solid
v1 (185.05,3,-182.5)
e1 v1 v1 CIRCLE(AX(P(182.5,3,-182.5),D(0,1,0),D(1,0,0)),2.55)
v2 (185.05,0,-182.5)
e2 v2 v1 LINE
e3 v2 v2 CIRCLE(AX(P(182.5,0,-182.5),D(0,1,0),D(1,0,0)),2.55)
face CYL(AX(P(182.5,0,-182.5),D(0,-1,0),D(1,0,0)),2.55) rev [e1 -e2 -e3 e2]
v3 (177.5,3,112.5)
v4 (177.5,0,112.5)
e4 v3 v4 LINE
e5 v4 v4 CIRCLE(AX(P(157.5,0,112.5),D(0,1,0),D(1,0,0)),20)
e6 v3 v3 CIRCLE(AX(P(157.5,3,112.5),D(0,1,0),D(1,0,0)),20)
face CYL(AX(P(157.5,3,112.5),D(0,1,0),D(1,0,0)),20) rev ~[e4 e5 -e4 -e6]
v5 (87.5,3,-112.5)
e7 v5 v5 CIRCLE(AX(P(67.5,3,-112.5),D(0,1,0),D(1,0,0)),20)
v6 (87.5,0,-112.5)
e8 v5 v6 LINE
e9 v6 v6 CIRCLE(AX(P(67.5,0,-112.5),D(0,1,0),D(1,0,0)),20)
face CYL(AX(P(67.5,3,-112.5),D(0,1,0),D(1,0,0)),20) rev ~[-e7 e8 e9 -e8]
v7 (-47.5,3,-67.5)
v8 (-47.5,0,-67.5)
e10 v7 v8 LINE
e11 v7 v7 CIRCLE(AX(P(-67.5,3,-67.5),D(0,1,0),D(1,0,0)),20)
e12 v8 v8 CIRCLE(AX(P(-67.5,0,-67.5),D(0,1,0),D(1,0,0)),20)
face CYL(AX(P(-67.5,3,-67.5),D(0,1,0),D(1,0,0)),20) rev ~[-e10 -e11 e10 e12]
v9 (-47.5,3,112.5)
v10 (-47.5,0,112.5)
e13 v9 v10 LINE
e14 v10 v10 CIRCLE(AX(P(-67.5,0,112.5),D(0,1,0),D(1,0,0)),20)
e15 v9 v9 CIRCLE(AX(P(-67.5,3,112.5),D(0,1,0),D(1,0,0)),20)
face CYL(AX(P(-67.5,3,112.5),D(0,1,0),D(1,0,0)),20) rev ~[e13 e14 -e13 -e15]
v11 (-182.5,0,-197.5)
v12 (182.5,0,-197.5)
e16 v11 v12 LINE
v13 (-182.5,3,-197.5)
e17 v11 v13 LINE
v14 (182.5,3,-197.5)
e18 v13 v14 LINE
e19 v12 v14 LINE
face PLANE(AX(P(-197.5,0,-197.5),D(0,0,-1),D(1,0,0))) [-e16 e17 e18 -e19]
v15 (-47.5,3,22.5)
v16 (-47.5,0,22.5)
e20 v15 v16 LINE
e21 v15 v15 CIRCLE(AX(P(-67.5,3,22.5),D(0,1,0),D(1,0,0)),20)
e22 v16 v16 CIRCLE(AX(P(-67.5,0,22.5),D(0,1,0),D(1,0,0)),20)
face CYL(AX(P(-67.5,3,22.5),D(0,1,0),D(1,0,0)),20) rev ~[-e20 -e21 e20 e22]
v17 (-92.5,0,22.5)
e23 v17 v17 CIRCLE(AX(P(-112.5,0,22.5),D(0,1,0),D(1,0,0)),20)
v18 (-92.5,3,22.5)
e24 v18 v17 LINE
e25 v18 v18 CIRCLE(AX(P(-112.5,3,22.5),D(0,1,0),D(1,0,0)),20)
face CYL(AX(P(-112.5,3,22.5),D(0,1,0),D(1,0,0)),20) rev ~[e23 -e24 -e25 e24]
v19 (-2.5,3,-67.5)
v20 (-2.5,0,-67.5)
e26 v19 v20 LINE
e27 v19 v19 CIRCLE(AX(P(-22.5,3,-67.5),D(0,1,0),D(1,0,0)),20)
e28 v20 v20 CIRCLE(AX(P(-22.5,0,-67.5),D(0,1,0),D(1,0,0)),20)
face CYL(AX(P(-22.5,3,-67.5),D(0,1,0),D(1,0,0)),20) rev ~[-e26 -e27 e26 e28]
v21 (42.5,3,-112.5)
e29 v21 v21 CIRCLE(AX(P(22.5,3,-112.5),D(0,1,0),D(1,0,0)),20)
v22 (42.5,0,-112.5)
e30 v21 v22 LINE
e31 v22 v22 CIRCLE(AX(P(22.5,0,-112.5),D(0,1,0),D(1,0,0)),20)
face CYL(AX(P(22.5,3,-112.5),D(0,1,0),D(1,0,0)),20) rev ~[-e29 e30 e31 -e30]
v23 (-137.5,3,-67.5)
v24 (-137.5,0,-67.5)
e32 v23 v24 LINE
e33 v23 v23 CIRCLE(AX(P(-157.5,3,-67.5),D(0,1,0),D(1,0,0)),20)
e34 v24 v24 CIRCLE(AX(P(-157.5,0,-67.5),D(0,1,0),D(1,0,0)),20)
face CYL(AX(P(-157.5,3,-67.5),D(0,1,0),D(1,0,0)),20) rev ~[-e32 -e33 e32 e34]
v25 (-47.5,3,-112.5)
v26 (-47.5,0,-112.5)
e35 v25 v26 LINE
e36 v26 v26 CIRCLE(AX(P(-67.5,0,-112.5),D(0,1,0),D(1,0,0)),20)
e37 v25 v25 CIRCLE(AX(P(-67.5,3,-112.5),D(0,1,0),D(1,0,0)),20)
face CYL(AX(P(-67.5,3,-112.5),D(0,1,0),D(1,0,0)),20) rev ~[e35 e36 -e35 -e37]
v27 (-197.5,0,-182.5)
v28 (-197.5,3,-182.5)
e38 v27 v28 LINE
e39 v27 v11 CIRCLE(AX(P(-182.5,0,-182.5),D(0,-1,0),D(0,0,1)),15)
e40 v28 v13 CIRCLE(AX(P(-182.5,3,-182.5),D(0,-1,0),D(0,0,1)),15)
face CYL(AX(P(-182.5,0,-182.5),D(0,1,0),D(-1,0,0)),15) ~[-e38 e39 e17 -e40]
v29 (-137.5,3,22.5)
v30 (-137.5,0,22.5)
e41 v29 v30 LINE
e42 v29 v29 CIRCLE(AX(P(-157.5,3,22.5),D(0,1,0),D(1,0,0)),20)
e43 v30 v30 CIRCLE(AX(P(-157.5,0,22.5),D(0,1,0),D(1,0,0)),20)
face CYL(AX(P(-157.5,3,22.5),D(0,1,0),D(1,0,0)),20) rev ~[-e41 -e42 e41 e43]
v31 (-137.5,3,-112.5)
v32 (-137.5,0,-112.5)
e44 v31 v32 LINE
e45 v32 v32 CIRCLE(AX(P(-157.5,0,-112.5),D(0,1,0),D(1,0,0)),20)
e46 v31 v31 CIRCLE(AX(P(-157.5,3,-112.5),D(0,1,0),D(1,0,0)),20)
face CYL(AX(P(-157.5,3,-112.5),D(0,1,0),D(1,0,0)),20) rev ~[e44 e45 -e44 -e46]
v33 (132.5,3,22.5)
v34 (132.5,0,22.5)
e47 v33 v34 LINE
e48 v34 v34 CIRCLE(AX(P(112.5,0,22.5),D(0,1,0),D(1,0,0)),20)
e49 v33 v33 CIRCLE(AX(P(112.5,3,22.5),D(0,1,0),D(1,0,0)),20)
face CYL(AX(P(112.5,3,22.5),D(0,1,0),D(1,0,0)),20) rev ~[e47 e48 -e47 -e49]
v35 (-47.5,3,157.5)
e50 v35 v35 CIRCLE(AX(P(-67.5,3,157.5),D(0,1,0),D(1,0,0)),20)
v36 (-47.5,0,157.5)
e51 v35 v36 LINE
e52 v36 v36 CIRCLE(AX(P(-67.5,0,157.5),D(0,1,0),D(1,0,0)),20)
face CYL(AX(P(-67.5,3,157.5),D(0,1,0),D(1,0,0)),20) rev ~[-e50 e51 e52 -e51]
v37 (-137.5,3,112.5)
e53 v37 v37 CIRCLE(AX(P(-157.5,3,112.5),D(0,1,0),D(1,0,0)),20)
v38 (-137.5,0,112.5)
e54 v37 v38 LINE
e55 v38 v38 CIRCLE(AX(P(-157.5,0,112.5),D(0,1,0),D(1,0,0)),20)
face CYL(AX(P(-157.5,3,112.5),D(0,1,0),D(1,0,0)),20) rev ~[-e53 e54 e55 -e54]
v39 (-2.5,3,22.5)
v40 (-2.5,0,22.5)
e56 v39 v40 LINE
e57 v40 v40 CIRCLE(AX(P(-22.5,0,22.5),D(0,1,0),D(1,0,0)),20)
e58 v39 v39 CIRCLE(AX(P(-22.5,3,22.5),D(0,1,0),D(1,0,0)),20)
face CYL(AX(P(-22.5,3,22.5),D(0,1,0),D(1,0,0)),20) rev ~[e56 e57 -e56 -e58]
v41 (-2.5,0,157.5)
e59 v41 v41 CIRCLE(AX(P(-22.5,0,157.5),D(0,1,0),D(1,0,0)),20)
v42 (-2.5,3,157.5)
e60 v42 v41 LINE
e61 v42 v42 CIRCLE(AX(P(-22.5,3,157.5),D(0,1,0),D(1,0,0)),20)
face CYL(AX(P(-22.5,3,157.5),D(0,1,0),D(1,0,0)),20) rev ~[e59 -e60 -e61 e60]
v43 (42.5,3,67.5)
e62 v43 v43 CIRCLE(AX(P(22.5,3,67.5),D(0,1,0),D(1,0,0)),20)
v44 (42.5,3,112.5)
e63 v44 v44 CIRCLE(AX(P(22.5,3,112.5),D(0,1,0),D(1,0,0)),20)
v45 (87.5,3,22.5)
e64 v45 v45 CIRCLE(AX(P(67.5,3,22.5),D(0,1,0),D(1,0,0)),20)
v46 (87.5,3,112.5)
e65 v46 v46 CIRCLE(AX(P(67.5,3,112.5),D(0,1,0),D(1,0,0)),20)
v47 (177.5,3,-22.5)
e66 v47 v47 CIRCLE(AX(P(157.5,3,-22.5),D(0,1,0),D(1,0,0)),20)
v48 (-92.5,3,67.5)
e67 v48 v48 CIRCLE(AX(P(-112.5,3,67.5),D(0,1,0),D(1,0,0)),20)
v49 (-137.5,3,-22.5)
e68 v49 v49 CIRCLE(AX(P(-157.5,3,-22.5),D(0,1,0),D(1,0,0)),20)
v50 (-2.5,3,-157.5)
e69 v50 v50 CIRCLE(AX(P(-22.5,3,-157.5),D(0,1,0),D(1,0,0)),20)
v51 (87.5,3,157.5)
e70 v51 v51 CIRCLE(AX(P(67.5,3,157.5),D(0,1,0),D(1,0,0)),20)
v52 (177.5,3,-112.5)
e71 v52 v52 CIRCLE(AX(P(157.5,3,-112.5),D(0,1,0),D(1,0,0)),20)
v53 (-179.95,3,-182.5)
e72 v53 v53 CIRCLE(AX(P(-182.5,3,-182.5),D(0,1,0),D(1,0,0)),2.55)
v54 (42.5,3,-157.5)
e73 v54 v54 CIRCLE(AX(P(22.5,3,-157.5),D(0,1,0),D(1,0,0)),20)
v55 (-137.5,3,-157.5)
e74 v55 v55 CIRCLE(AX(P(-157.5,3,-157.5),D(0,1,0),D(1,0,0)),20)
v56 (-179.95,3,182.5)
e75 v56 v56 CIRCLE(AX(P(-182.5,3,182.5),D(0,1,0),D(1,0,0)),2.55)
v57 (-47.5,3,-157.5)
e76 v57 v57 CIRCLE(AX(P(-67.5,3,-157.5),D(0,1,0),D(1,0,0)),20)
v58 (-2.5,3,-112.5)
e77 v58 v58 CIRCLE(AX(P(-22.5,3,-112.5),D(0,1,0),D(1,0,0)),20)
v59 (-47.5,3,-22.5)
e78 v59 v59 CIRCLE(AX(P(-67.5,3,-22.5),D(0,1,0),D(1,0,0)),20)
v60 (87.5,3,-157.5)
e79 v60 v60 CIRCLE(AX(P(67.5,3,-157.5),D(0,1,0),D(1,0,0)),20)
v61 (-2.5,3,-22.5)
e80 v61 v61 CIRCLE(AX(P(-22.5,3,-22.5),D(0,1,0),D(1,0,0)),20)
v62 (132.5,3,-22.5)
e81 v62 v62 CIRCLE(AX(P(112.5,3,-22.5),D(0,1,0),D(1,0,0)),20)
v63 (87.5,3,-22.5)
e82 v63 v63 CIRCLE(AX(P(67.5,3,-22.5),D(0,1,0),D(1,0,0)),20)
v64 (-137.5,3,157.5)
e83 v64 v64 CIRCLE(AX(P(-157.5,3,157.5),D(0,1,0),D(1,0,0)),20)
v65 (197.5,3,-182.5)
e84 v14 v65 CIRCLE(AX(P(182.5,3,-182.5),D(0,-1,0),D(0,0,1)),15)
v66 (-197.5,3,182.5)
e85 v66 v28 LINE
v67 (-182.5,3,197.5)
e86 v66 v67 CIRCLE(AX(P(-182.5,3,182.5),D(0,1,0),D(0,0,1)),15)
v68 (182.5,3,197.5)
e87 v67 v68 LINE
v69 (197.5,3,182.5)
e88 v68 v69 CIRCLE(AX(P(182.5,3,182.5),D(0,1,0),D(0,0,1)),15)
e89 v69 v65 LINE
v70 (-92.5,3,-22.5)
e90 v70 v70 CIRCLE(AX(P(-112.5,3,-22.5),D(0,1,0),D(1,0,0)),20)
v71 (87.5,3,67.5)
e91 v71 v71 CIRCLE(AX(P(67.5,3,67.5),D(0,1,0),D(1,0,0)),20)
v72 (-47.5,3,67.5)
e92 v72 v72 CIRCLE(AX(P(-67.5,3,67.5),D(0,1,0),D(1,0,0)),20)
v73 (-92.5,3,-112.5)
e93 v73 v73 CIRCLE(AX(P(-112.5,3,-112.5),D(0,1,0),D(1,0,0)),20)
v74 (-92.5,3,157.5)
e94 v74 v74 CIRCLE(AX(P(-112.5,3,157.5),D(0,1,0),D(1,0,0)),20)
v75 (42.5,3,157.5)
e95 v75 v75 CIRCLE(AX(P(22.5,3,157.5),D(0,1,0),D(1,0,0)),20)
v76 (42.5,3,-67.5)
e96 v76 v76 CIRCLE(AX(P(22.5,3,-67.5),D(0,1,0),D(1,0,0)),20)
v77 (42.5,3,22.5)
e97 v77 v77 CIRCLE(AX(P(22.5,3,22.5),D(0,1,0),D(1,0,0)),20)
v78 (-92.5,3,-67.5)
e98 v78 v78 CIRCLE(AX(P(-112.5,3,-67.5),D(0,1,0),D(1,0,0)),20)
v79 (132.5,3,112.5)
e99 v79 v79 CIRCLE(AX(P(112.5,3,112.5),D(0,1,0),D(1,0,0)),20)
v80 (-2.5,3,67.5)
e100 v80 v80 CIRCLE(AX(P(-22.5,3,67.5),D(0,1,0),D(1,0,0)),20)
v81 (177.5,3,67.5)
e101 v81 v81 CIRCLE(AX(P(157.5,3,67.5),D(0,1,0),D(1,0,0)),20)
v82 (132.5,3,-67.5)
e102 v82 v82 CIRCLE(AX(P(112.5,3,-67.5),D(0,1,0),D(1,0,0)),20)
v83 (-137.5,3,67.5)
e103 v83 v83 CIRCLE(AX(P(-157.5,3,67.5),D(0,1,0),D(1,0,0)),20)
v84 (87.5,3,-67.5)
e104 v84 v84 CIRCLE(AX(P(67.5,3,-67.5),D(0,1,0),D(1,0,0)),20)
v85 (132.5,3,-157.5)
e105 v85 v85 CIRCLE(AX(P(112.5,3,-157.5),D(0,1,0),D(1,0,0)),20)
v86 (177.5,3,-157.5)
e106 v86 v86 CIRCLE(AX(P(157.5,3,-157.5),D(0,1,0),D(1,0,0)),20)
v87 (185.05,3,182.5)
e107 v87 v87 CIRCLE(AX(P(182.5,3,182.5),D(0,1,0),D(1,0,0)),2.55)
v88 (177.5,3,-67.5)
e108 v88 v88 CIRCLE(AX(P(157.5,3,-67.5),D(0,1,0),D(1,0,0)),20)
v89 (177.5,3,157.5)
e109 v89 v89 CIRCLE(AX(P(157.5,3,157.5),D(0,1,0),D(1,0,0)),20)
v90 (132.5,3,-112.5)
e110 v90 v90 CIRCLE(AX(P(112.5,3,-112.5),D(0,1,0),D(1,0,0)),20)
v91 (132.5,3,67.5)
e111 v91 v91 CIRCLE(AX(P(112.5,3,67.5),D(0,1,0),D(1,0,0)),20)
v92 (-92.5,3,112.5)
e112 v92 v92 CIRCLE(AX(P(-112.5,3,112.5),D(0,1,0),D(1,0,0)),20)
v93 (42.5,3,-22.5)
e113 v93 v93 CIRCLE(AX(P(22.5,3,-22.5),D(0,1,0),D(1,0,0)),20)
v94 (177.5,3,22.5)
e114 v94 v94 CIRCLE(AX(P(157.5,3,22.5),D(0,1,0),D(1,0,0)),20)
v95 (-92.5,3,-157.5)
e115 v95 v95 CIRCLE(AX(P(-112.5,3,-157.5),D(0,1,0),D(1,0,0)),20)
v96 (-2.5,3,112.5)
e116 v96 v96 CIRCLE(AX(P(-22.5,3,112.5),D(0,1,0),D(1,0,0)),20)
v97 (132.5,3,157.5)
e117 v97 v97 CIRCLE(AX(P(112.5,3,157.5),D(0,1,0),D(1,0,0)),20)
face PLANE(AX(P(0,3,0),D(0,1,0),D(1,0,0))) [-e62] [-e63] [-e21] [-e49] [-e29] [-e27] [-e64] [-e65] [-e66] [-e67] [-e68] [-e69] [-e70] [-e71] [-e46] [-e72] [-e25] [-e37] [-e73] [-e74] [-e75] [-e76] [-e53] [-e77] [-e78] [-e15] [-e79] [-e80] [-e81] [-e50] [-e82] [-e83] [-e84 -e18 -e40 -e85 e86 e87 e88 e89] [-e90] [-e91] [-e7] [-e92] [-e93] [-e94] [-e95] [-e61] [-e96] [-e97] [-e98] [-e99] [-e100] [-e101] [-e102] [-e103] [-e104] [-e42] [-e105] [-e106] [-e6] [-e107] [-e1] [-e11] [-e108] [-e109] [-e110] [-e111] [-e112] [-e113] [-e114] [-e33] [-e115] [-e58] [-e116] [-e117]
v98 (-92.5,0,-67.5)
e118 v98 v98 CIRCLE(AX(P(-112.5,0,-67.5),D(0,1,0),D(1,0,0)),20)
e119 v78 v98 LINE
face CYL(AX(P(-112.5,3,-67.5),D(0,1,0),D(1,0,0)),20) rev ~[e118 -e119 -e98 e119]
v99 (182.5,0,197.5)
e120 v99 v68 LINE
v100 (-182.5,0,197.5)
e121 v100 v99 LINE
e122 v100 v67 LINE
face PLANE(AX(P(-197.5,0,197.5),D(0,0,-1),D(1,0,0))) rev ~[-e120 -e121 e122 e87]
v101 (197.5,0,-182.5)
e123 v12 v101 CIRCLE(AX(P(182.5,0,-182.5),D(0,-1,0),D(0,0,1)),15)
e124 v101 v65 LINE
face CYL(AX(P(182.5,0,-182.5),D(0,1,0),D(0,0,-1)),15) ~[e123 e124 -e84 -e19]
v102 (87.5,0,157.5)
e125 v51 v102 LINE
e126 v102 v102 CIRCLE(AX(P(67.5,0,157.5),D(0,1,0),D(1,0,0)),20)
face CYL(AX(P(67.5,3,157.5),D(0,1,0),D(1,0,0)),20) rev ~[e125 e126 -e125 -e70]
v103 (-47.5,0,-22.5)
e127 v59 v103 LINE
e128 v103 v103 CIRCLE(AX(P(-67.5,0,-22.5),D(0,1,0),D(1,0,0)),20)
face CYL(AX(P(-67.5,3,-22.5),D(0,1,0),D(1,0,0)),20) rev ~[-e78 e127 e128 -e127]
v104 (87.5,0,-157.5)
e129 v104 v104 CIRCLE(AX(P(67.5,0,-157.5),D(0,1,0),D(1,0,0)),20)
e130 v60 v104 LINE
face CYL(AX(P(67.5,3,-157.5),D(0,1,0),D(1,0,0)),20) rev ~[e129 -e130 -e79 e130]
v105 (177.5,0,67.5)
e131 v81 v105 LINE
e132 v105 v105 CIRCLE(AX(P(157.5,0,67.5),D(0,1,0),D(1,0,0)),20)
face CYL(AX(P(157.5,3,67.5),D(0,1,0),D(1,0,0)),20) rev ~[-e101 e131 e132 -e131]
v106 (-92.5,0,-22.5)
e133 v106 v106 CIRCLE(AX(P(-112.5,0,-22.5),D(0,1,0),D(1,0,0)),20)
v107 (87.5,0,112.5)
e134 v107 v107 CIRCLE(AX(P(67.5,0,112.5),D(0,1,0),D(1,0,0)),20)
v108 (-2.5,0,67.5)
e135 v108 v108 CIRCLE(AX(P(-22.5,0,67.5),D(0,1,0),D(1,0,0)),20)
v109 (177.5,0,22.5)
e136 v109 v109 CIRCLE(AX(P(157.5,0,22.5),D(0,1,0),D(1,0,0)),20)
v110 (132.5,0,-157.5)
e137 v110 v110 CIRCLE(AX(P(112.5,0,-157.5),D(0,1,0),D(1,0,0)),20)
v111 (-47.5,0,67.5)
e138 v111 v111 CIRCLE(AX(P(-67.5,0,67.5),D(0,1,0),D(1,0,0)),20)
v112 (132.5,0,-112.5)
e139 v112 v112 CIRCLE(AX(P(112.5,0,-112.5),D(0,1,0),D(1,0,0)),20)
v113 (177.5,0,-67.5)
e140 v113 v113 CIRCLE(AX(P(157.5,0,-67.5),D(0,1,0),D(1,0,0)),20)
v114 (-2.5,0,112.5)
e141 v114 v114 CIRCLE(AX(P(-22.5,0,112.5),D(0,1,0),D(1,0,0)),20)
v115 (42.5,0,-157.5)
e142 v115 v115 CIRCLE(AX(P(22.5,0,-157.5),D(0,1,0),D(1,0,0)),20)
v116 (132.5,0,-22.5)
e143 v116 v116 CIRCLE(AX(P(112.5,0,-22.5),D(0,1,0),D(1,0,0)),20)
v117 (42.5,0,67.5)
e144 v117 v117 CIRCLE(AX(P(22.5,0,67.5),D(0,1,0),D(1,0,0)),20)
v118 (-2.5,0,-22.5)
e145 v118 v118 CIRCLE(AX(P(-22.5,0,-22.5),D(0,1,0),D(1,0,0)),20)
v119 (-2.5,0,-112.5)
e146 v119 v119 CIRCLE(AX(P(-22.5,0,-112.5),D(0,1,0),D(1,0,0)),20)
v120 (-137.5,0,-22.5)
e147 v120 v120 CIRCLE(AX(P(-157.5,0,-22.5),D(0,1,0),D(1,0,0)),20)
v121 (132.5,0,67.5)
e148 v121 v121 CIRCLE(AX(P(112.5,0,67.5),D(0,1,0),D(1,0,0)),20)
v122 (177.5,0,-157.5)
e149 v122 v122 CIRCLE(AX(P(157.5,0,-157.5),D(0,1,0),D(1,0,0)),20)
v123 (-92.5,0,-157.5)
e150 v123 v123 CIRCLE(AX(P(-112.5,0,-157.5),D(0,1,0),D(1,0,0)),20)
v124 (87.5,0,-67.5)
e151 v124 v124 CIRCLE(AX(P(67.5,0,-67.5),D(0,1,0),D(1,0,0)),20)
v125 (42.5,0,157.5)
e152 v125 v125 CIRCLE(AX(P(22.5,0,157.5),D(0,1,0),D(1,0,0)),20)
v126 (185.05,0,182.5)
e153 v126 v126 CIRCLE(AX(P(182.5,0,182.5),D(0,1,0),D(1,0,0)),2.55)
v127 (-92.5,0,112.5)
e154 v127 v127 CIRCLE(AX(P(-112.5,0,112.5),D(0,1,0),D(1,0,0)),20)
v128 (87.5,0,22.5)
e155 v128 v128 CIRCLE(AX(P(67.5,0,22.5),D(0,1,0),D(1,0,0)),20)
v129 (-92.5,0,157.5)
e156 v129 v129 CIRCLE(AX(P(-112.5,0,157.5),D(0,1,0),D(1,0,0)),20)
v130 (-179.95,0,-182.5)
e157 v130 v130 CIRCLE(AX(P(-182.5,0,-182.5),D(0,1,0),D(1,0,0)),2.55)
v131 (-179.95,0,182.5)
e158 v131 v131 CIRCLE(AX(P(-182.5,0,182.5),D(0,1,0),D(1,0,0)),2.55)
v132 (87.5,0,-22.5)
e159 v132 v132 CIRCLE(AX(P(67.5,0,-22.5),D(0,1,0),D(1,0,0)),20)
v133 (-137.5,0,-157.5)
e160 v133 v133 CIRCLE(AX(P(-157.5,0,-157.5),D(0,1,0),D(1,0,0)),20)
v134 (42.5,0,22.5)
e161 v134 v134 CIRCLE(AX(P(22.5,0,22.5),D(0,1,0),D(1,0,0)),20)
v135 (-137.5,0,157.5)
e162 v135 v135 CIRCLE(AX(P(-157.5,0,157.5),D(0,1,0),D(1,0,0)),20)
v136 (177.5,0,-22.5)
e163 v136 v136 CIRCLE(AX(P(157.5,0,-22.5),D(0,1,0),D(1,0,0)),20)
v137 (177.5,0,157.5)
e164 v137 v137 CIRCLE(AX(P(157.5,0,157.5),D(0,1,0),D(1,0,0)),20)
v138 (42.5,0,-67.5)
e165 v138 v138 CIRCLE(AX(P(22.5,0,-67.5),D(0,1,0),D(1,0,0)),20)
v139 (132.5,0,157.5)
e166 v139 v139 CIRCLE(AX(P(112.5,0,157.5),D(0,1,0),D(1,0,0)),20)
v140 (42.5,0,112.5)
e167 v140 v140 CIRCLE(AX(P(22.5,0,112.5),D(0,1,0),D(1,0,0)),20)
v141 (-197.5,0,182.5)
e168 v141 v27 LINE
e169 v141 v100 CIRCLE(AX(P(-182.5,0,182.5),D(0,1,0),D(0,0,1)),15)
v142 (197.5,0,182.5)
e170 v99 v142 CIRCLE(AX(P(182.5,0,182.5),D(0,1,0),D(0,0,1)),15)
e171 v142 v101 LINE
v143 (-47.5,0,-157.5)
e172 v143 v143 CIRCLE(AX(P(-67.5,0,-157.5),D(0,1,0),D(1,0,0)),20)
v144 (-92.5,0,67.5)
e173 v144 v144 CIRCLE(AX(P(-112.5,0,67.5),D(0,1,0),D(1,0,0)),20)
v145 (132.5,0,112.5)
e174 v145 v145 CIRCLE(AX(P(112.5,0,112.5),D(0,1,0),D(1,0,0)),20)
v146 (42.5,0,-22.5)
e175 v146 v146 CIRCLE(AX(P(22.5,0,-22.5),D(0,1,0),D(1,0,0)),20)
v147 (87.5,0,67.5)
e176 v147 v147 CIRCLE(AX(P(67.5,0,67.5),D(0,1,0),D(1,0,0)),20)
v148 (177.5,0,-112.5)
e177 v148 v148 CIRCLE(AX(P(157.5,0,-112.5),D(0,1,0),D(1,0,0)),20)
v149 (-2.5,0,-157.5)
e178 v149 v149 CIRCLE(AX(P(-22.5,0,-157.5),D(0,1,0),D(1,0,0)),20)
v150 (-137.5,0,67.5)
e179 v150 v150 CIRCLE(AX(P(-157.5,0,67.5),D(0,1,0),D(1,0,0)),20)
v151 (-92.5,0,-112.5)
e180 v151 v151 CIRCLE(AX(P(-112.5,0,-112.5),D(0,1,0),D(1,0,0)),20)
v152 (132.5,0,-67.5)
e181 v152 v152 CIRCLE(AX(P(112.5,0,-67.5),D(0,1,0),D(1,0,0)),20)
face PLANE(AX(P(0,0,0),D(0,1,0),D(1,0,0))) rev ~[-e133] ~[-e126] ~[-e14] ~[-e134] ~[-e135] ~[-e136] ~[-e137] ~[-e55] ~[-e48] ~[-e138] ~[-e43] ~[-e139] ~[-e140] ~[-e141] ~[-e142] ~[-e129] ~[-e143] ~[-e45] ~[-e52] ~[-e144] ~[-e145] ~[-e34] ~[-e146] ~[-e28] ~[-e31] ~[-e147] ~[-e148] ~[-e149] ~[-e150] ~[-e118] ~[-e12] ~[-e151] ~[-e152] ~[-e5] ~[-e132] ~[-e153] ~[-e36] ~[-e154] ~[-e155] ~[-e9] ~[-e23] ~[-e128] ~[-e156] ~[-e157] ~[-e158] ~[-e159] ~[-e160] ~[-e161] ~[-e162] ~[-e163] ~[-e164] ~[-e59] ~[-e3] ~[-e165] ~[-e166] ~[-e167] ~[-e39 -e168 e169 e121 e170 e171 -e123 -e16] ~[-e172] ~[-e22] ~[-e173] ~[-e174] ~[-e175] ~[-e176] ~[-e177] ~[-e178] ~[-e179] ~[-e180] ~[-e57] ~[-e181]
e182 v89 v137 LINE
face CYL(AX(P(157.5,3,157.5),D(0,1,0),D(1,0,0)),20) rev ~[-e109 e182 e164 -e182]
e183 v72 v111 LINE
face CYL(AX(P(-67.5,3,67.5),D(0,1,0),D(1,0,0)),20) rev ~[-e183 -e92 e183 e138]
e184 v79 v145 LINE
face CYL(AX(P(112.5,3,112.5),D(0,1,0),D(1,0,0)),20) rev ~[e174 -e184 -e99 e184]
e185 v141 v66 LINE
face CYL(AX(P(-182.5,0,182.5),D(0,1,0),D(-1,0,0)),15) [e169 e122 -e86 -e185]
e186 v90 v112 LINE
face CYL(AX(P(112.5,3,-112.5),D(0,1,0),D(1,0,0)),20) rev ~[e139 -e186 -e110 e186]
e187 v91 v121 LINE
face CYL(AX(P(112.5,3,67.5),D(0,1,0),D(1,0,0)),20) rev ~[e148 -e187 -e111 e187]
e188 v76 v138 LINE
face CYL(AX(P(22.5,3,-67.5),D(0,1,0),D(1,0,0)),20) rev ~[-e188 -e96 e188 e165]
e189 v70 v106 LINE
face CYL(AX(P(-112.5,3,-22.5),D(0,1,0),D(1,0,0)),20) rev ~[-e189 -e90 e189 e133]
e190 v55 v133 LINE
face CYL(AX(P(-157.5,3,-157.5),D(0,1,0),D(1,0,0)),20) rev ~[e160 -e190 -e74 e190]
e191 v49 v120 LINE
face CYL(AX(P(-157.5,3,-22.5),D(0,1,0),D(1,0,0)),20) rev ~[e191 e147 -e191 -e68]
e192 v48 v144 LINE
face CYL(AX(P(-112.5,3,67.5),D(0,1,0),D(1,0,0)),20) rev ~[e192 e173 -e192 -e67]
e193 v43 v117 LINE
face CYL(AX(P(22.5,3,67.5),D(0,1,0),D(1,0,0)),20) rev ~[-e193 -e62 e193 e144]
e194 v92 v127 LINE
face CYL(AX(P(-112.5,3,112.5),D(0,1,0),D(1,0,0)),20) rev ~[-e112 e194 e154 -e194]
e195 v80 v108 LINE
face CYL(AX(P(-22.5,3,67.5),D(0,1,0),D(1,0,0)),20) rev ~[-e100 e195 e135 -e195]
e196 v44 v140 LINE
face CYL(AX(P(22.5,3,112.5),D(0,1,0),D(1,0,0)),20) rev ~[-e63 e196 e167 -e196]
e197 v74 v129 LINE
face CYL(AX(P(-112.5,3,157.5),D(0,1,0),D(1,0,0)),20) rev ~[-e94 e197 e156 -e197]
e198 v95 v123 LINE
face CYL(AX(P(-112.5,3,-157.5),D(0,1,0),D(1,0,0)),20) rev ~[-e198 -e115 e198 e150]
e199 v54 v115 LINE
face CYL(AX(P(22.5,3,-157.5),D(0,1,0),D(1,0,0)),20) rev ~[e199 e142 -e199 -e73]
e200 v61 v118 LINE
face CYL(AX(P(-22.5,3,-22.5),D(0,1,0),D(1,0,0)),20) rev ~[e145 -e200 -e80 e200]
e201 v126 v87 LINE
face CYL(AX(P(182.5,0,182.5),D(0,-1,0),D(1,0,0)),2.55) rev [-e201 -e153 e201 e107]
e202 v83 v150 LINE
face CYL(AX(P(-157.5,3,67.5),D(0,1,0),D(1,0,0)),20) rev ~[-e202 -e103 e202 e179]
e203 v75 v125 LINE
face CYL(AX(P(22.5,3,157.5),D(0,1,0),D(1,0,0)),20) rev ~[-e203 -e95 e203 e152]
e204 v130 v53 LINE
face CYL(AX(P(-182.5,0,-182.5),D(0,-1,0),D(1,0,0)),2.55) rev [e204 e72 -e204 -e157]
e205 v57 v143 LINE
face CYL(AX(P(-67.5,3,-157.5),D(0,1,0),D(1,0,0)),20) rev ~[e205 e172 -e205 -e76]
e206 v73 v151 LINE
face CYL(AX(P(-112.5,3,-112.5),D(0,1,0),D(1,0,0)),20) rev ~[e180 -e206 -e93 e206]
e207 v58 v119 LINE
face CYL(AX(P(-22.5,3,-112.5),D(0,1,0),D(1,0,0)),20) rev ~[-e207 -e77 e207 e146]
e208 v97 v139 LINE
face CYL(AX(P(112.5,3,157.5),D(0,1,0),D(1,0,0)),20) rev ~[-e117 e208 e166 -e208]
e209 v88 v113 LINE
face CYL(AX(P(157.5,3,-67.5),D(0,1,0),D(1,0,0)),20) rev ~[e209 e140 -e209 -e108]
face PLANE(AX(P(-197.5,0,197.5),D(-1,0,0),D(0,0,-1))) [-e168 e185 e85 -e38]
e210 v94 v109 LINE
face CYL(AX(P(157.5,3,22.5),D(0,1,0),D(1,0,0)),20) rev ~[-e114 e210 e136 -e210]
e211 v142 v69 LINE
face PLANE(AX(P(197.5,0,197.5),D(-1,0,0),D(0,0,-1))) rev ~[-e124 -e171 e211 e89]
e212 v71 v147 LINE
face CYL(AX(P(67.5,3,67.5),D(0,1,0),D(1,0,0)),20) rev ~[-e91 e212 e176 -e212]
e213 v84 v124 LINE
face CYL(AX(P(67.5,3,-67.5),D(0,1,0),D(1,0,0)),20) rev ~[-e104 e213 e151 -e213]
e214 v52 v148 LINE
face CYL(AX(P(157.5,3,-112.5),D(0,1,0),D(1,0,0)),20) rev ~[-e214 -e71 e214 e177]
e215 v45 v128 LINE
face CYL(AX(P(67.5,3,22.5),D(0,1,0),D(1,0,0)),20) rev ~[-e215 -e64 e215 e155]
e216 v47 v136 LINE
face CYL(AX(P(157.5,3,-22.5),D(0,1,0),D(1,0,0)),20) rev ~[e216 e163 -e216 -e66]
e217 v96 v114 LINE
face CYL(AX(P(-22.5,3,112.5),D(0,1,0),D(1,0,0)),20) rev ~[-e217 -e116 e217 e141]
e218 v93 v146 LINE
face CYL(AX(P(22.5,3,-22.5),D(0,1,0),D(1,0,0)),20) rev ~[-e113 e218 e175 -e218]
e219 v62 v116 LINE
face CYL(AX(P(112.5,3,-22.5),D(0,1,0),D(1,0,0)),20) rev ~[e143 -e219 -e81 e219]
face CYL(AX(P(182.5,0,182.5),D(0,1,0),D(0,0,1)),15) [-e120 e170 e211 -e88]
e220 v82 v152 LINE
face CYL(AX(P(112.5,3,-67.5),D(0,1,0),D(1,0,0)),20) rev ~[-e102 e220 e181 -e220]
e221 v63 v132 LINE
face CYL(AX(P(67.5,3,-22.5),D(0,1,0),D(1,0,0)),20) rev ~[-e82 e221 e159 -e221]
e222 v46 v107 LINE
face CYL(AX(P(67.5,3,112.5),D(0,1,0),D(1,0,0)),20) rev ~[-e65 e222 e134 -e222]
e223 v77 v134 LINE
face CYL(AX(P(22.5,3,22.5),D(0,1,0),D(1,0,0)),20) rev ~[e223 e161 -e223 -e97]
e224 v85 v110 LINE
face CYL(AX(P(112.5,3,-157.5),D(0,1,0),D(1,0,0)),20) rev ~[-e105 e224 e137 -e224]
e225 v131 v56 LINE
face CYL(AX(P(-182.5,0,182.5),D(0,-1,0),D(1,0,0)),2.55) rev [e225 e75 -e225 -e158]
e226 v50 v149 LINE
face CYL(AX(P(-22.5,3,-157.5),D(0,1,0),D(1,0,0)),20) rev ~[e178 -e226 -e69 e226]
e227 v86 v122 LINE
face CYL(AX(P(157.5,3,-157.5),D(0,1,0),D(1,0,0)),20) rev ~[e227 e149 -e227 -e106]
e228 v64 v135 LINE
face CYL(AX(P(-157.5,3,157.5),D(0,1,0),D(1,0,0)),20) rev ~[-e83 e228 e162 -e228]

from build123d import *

# Parameters (mm, degrees)
SKETCH1_W            = 395
SKETCH1_H            = 395
SKETCH1_R            = 2.55
BOSS_EXTRUDE1_DEPTH  = 3
FILLET1_R            = 15
SKETCH2_R            = 20
CUT_EXTRUDE1_DEPTH   = 4
LPATTERN1_COUNT      = 8
LPATTERN1_PITCH      = 45
LPATTERN1_COUNT_DIR2 = 8
LPATTERN1_PITCH_DIR2 = 45


with BuildPart() as part:
    # Sketch1 → Boss-Extrude1 (new body)
    with BuildSketch(Plane(origin=(0, 0, 0), x_dir=(1, 0, 0), z_dir=(0, 1, 0))):
        Rectangle(SKETCH1_W, SKETCH1_H)
        with Locations((-182.5, 182.5)):
            Circle(SKETCH1_R, mode=Mode.SUBTRACT)
        with Locations((182.5, 182.5)):
            Circle(SKETCH1_R, mode=Mode.SUBTRACT)
        with Locations((182.5, -182.5)):
            Circle(SKETCH1_R, mode=Mode.SUBTRACT)
        with Locations((-182.5, -182.5)):
            Circle(SKETCH1_R, mode=Mode.SUBTRACT)
    extrude(amount=BOSS_EXTRUDE1_DEPTH)

    # Fillet1
    fillet1_edges = [part.edges().sort_by_distance(p)[0] for p in [
        (197.5, 1.5, 197.5),
        (-197.5, 1.5, 197.5),
        (-197.5, 1.5, -197.5),
        (197.5, 1.5, -197.5),
    ]]
    fillet(fillet1_edges, radius=FILLET1_R)

    # Sketch2 → Cut-Extrude1 (cut, through all)
    with BuildSketch(Plane(origin=(0, 3, 0), x_dir=(1, 0, 0), z_dir=(0, 1, 0))):
        with Locations((-157.5, -157.5)):
            Circle(SKETCH2_R)
    cut_extrude1 = extrude(amount=-CUT_EXTRUDE1_DEPTH, mode=Mode.SUBTRACT)

    # LPattern1: Cut-Extrude1 8 × 8
    with Locations(*[(j * LPATTERN1_PITCH_DIR2, 0, -i * LPATTERN1_PITCH) for i in range(LPATTERN1_COUNT) for j in range(LPATTERN1_COUNT_DIR2) if (i, j) != (0, 0)]):
        add(cut_extrude1, mode=Mode.SUBTRACT)


solid = part.part
